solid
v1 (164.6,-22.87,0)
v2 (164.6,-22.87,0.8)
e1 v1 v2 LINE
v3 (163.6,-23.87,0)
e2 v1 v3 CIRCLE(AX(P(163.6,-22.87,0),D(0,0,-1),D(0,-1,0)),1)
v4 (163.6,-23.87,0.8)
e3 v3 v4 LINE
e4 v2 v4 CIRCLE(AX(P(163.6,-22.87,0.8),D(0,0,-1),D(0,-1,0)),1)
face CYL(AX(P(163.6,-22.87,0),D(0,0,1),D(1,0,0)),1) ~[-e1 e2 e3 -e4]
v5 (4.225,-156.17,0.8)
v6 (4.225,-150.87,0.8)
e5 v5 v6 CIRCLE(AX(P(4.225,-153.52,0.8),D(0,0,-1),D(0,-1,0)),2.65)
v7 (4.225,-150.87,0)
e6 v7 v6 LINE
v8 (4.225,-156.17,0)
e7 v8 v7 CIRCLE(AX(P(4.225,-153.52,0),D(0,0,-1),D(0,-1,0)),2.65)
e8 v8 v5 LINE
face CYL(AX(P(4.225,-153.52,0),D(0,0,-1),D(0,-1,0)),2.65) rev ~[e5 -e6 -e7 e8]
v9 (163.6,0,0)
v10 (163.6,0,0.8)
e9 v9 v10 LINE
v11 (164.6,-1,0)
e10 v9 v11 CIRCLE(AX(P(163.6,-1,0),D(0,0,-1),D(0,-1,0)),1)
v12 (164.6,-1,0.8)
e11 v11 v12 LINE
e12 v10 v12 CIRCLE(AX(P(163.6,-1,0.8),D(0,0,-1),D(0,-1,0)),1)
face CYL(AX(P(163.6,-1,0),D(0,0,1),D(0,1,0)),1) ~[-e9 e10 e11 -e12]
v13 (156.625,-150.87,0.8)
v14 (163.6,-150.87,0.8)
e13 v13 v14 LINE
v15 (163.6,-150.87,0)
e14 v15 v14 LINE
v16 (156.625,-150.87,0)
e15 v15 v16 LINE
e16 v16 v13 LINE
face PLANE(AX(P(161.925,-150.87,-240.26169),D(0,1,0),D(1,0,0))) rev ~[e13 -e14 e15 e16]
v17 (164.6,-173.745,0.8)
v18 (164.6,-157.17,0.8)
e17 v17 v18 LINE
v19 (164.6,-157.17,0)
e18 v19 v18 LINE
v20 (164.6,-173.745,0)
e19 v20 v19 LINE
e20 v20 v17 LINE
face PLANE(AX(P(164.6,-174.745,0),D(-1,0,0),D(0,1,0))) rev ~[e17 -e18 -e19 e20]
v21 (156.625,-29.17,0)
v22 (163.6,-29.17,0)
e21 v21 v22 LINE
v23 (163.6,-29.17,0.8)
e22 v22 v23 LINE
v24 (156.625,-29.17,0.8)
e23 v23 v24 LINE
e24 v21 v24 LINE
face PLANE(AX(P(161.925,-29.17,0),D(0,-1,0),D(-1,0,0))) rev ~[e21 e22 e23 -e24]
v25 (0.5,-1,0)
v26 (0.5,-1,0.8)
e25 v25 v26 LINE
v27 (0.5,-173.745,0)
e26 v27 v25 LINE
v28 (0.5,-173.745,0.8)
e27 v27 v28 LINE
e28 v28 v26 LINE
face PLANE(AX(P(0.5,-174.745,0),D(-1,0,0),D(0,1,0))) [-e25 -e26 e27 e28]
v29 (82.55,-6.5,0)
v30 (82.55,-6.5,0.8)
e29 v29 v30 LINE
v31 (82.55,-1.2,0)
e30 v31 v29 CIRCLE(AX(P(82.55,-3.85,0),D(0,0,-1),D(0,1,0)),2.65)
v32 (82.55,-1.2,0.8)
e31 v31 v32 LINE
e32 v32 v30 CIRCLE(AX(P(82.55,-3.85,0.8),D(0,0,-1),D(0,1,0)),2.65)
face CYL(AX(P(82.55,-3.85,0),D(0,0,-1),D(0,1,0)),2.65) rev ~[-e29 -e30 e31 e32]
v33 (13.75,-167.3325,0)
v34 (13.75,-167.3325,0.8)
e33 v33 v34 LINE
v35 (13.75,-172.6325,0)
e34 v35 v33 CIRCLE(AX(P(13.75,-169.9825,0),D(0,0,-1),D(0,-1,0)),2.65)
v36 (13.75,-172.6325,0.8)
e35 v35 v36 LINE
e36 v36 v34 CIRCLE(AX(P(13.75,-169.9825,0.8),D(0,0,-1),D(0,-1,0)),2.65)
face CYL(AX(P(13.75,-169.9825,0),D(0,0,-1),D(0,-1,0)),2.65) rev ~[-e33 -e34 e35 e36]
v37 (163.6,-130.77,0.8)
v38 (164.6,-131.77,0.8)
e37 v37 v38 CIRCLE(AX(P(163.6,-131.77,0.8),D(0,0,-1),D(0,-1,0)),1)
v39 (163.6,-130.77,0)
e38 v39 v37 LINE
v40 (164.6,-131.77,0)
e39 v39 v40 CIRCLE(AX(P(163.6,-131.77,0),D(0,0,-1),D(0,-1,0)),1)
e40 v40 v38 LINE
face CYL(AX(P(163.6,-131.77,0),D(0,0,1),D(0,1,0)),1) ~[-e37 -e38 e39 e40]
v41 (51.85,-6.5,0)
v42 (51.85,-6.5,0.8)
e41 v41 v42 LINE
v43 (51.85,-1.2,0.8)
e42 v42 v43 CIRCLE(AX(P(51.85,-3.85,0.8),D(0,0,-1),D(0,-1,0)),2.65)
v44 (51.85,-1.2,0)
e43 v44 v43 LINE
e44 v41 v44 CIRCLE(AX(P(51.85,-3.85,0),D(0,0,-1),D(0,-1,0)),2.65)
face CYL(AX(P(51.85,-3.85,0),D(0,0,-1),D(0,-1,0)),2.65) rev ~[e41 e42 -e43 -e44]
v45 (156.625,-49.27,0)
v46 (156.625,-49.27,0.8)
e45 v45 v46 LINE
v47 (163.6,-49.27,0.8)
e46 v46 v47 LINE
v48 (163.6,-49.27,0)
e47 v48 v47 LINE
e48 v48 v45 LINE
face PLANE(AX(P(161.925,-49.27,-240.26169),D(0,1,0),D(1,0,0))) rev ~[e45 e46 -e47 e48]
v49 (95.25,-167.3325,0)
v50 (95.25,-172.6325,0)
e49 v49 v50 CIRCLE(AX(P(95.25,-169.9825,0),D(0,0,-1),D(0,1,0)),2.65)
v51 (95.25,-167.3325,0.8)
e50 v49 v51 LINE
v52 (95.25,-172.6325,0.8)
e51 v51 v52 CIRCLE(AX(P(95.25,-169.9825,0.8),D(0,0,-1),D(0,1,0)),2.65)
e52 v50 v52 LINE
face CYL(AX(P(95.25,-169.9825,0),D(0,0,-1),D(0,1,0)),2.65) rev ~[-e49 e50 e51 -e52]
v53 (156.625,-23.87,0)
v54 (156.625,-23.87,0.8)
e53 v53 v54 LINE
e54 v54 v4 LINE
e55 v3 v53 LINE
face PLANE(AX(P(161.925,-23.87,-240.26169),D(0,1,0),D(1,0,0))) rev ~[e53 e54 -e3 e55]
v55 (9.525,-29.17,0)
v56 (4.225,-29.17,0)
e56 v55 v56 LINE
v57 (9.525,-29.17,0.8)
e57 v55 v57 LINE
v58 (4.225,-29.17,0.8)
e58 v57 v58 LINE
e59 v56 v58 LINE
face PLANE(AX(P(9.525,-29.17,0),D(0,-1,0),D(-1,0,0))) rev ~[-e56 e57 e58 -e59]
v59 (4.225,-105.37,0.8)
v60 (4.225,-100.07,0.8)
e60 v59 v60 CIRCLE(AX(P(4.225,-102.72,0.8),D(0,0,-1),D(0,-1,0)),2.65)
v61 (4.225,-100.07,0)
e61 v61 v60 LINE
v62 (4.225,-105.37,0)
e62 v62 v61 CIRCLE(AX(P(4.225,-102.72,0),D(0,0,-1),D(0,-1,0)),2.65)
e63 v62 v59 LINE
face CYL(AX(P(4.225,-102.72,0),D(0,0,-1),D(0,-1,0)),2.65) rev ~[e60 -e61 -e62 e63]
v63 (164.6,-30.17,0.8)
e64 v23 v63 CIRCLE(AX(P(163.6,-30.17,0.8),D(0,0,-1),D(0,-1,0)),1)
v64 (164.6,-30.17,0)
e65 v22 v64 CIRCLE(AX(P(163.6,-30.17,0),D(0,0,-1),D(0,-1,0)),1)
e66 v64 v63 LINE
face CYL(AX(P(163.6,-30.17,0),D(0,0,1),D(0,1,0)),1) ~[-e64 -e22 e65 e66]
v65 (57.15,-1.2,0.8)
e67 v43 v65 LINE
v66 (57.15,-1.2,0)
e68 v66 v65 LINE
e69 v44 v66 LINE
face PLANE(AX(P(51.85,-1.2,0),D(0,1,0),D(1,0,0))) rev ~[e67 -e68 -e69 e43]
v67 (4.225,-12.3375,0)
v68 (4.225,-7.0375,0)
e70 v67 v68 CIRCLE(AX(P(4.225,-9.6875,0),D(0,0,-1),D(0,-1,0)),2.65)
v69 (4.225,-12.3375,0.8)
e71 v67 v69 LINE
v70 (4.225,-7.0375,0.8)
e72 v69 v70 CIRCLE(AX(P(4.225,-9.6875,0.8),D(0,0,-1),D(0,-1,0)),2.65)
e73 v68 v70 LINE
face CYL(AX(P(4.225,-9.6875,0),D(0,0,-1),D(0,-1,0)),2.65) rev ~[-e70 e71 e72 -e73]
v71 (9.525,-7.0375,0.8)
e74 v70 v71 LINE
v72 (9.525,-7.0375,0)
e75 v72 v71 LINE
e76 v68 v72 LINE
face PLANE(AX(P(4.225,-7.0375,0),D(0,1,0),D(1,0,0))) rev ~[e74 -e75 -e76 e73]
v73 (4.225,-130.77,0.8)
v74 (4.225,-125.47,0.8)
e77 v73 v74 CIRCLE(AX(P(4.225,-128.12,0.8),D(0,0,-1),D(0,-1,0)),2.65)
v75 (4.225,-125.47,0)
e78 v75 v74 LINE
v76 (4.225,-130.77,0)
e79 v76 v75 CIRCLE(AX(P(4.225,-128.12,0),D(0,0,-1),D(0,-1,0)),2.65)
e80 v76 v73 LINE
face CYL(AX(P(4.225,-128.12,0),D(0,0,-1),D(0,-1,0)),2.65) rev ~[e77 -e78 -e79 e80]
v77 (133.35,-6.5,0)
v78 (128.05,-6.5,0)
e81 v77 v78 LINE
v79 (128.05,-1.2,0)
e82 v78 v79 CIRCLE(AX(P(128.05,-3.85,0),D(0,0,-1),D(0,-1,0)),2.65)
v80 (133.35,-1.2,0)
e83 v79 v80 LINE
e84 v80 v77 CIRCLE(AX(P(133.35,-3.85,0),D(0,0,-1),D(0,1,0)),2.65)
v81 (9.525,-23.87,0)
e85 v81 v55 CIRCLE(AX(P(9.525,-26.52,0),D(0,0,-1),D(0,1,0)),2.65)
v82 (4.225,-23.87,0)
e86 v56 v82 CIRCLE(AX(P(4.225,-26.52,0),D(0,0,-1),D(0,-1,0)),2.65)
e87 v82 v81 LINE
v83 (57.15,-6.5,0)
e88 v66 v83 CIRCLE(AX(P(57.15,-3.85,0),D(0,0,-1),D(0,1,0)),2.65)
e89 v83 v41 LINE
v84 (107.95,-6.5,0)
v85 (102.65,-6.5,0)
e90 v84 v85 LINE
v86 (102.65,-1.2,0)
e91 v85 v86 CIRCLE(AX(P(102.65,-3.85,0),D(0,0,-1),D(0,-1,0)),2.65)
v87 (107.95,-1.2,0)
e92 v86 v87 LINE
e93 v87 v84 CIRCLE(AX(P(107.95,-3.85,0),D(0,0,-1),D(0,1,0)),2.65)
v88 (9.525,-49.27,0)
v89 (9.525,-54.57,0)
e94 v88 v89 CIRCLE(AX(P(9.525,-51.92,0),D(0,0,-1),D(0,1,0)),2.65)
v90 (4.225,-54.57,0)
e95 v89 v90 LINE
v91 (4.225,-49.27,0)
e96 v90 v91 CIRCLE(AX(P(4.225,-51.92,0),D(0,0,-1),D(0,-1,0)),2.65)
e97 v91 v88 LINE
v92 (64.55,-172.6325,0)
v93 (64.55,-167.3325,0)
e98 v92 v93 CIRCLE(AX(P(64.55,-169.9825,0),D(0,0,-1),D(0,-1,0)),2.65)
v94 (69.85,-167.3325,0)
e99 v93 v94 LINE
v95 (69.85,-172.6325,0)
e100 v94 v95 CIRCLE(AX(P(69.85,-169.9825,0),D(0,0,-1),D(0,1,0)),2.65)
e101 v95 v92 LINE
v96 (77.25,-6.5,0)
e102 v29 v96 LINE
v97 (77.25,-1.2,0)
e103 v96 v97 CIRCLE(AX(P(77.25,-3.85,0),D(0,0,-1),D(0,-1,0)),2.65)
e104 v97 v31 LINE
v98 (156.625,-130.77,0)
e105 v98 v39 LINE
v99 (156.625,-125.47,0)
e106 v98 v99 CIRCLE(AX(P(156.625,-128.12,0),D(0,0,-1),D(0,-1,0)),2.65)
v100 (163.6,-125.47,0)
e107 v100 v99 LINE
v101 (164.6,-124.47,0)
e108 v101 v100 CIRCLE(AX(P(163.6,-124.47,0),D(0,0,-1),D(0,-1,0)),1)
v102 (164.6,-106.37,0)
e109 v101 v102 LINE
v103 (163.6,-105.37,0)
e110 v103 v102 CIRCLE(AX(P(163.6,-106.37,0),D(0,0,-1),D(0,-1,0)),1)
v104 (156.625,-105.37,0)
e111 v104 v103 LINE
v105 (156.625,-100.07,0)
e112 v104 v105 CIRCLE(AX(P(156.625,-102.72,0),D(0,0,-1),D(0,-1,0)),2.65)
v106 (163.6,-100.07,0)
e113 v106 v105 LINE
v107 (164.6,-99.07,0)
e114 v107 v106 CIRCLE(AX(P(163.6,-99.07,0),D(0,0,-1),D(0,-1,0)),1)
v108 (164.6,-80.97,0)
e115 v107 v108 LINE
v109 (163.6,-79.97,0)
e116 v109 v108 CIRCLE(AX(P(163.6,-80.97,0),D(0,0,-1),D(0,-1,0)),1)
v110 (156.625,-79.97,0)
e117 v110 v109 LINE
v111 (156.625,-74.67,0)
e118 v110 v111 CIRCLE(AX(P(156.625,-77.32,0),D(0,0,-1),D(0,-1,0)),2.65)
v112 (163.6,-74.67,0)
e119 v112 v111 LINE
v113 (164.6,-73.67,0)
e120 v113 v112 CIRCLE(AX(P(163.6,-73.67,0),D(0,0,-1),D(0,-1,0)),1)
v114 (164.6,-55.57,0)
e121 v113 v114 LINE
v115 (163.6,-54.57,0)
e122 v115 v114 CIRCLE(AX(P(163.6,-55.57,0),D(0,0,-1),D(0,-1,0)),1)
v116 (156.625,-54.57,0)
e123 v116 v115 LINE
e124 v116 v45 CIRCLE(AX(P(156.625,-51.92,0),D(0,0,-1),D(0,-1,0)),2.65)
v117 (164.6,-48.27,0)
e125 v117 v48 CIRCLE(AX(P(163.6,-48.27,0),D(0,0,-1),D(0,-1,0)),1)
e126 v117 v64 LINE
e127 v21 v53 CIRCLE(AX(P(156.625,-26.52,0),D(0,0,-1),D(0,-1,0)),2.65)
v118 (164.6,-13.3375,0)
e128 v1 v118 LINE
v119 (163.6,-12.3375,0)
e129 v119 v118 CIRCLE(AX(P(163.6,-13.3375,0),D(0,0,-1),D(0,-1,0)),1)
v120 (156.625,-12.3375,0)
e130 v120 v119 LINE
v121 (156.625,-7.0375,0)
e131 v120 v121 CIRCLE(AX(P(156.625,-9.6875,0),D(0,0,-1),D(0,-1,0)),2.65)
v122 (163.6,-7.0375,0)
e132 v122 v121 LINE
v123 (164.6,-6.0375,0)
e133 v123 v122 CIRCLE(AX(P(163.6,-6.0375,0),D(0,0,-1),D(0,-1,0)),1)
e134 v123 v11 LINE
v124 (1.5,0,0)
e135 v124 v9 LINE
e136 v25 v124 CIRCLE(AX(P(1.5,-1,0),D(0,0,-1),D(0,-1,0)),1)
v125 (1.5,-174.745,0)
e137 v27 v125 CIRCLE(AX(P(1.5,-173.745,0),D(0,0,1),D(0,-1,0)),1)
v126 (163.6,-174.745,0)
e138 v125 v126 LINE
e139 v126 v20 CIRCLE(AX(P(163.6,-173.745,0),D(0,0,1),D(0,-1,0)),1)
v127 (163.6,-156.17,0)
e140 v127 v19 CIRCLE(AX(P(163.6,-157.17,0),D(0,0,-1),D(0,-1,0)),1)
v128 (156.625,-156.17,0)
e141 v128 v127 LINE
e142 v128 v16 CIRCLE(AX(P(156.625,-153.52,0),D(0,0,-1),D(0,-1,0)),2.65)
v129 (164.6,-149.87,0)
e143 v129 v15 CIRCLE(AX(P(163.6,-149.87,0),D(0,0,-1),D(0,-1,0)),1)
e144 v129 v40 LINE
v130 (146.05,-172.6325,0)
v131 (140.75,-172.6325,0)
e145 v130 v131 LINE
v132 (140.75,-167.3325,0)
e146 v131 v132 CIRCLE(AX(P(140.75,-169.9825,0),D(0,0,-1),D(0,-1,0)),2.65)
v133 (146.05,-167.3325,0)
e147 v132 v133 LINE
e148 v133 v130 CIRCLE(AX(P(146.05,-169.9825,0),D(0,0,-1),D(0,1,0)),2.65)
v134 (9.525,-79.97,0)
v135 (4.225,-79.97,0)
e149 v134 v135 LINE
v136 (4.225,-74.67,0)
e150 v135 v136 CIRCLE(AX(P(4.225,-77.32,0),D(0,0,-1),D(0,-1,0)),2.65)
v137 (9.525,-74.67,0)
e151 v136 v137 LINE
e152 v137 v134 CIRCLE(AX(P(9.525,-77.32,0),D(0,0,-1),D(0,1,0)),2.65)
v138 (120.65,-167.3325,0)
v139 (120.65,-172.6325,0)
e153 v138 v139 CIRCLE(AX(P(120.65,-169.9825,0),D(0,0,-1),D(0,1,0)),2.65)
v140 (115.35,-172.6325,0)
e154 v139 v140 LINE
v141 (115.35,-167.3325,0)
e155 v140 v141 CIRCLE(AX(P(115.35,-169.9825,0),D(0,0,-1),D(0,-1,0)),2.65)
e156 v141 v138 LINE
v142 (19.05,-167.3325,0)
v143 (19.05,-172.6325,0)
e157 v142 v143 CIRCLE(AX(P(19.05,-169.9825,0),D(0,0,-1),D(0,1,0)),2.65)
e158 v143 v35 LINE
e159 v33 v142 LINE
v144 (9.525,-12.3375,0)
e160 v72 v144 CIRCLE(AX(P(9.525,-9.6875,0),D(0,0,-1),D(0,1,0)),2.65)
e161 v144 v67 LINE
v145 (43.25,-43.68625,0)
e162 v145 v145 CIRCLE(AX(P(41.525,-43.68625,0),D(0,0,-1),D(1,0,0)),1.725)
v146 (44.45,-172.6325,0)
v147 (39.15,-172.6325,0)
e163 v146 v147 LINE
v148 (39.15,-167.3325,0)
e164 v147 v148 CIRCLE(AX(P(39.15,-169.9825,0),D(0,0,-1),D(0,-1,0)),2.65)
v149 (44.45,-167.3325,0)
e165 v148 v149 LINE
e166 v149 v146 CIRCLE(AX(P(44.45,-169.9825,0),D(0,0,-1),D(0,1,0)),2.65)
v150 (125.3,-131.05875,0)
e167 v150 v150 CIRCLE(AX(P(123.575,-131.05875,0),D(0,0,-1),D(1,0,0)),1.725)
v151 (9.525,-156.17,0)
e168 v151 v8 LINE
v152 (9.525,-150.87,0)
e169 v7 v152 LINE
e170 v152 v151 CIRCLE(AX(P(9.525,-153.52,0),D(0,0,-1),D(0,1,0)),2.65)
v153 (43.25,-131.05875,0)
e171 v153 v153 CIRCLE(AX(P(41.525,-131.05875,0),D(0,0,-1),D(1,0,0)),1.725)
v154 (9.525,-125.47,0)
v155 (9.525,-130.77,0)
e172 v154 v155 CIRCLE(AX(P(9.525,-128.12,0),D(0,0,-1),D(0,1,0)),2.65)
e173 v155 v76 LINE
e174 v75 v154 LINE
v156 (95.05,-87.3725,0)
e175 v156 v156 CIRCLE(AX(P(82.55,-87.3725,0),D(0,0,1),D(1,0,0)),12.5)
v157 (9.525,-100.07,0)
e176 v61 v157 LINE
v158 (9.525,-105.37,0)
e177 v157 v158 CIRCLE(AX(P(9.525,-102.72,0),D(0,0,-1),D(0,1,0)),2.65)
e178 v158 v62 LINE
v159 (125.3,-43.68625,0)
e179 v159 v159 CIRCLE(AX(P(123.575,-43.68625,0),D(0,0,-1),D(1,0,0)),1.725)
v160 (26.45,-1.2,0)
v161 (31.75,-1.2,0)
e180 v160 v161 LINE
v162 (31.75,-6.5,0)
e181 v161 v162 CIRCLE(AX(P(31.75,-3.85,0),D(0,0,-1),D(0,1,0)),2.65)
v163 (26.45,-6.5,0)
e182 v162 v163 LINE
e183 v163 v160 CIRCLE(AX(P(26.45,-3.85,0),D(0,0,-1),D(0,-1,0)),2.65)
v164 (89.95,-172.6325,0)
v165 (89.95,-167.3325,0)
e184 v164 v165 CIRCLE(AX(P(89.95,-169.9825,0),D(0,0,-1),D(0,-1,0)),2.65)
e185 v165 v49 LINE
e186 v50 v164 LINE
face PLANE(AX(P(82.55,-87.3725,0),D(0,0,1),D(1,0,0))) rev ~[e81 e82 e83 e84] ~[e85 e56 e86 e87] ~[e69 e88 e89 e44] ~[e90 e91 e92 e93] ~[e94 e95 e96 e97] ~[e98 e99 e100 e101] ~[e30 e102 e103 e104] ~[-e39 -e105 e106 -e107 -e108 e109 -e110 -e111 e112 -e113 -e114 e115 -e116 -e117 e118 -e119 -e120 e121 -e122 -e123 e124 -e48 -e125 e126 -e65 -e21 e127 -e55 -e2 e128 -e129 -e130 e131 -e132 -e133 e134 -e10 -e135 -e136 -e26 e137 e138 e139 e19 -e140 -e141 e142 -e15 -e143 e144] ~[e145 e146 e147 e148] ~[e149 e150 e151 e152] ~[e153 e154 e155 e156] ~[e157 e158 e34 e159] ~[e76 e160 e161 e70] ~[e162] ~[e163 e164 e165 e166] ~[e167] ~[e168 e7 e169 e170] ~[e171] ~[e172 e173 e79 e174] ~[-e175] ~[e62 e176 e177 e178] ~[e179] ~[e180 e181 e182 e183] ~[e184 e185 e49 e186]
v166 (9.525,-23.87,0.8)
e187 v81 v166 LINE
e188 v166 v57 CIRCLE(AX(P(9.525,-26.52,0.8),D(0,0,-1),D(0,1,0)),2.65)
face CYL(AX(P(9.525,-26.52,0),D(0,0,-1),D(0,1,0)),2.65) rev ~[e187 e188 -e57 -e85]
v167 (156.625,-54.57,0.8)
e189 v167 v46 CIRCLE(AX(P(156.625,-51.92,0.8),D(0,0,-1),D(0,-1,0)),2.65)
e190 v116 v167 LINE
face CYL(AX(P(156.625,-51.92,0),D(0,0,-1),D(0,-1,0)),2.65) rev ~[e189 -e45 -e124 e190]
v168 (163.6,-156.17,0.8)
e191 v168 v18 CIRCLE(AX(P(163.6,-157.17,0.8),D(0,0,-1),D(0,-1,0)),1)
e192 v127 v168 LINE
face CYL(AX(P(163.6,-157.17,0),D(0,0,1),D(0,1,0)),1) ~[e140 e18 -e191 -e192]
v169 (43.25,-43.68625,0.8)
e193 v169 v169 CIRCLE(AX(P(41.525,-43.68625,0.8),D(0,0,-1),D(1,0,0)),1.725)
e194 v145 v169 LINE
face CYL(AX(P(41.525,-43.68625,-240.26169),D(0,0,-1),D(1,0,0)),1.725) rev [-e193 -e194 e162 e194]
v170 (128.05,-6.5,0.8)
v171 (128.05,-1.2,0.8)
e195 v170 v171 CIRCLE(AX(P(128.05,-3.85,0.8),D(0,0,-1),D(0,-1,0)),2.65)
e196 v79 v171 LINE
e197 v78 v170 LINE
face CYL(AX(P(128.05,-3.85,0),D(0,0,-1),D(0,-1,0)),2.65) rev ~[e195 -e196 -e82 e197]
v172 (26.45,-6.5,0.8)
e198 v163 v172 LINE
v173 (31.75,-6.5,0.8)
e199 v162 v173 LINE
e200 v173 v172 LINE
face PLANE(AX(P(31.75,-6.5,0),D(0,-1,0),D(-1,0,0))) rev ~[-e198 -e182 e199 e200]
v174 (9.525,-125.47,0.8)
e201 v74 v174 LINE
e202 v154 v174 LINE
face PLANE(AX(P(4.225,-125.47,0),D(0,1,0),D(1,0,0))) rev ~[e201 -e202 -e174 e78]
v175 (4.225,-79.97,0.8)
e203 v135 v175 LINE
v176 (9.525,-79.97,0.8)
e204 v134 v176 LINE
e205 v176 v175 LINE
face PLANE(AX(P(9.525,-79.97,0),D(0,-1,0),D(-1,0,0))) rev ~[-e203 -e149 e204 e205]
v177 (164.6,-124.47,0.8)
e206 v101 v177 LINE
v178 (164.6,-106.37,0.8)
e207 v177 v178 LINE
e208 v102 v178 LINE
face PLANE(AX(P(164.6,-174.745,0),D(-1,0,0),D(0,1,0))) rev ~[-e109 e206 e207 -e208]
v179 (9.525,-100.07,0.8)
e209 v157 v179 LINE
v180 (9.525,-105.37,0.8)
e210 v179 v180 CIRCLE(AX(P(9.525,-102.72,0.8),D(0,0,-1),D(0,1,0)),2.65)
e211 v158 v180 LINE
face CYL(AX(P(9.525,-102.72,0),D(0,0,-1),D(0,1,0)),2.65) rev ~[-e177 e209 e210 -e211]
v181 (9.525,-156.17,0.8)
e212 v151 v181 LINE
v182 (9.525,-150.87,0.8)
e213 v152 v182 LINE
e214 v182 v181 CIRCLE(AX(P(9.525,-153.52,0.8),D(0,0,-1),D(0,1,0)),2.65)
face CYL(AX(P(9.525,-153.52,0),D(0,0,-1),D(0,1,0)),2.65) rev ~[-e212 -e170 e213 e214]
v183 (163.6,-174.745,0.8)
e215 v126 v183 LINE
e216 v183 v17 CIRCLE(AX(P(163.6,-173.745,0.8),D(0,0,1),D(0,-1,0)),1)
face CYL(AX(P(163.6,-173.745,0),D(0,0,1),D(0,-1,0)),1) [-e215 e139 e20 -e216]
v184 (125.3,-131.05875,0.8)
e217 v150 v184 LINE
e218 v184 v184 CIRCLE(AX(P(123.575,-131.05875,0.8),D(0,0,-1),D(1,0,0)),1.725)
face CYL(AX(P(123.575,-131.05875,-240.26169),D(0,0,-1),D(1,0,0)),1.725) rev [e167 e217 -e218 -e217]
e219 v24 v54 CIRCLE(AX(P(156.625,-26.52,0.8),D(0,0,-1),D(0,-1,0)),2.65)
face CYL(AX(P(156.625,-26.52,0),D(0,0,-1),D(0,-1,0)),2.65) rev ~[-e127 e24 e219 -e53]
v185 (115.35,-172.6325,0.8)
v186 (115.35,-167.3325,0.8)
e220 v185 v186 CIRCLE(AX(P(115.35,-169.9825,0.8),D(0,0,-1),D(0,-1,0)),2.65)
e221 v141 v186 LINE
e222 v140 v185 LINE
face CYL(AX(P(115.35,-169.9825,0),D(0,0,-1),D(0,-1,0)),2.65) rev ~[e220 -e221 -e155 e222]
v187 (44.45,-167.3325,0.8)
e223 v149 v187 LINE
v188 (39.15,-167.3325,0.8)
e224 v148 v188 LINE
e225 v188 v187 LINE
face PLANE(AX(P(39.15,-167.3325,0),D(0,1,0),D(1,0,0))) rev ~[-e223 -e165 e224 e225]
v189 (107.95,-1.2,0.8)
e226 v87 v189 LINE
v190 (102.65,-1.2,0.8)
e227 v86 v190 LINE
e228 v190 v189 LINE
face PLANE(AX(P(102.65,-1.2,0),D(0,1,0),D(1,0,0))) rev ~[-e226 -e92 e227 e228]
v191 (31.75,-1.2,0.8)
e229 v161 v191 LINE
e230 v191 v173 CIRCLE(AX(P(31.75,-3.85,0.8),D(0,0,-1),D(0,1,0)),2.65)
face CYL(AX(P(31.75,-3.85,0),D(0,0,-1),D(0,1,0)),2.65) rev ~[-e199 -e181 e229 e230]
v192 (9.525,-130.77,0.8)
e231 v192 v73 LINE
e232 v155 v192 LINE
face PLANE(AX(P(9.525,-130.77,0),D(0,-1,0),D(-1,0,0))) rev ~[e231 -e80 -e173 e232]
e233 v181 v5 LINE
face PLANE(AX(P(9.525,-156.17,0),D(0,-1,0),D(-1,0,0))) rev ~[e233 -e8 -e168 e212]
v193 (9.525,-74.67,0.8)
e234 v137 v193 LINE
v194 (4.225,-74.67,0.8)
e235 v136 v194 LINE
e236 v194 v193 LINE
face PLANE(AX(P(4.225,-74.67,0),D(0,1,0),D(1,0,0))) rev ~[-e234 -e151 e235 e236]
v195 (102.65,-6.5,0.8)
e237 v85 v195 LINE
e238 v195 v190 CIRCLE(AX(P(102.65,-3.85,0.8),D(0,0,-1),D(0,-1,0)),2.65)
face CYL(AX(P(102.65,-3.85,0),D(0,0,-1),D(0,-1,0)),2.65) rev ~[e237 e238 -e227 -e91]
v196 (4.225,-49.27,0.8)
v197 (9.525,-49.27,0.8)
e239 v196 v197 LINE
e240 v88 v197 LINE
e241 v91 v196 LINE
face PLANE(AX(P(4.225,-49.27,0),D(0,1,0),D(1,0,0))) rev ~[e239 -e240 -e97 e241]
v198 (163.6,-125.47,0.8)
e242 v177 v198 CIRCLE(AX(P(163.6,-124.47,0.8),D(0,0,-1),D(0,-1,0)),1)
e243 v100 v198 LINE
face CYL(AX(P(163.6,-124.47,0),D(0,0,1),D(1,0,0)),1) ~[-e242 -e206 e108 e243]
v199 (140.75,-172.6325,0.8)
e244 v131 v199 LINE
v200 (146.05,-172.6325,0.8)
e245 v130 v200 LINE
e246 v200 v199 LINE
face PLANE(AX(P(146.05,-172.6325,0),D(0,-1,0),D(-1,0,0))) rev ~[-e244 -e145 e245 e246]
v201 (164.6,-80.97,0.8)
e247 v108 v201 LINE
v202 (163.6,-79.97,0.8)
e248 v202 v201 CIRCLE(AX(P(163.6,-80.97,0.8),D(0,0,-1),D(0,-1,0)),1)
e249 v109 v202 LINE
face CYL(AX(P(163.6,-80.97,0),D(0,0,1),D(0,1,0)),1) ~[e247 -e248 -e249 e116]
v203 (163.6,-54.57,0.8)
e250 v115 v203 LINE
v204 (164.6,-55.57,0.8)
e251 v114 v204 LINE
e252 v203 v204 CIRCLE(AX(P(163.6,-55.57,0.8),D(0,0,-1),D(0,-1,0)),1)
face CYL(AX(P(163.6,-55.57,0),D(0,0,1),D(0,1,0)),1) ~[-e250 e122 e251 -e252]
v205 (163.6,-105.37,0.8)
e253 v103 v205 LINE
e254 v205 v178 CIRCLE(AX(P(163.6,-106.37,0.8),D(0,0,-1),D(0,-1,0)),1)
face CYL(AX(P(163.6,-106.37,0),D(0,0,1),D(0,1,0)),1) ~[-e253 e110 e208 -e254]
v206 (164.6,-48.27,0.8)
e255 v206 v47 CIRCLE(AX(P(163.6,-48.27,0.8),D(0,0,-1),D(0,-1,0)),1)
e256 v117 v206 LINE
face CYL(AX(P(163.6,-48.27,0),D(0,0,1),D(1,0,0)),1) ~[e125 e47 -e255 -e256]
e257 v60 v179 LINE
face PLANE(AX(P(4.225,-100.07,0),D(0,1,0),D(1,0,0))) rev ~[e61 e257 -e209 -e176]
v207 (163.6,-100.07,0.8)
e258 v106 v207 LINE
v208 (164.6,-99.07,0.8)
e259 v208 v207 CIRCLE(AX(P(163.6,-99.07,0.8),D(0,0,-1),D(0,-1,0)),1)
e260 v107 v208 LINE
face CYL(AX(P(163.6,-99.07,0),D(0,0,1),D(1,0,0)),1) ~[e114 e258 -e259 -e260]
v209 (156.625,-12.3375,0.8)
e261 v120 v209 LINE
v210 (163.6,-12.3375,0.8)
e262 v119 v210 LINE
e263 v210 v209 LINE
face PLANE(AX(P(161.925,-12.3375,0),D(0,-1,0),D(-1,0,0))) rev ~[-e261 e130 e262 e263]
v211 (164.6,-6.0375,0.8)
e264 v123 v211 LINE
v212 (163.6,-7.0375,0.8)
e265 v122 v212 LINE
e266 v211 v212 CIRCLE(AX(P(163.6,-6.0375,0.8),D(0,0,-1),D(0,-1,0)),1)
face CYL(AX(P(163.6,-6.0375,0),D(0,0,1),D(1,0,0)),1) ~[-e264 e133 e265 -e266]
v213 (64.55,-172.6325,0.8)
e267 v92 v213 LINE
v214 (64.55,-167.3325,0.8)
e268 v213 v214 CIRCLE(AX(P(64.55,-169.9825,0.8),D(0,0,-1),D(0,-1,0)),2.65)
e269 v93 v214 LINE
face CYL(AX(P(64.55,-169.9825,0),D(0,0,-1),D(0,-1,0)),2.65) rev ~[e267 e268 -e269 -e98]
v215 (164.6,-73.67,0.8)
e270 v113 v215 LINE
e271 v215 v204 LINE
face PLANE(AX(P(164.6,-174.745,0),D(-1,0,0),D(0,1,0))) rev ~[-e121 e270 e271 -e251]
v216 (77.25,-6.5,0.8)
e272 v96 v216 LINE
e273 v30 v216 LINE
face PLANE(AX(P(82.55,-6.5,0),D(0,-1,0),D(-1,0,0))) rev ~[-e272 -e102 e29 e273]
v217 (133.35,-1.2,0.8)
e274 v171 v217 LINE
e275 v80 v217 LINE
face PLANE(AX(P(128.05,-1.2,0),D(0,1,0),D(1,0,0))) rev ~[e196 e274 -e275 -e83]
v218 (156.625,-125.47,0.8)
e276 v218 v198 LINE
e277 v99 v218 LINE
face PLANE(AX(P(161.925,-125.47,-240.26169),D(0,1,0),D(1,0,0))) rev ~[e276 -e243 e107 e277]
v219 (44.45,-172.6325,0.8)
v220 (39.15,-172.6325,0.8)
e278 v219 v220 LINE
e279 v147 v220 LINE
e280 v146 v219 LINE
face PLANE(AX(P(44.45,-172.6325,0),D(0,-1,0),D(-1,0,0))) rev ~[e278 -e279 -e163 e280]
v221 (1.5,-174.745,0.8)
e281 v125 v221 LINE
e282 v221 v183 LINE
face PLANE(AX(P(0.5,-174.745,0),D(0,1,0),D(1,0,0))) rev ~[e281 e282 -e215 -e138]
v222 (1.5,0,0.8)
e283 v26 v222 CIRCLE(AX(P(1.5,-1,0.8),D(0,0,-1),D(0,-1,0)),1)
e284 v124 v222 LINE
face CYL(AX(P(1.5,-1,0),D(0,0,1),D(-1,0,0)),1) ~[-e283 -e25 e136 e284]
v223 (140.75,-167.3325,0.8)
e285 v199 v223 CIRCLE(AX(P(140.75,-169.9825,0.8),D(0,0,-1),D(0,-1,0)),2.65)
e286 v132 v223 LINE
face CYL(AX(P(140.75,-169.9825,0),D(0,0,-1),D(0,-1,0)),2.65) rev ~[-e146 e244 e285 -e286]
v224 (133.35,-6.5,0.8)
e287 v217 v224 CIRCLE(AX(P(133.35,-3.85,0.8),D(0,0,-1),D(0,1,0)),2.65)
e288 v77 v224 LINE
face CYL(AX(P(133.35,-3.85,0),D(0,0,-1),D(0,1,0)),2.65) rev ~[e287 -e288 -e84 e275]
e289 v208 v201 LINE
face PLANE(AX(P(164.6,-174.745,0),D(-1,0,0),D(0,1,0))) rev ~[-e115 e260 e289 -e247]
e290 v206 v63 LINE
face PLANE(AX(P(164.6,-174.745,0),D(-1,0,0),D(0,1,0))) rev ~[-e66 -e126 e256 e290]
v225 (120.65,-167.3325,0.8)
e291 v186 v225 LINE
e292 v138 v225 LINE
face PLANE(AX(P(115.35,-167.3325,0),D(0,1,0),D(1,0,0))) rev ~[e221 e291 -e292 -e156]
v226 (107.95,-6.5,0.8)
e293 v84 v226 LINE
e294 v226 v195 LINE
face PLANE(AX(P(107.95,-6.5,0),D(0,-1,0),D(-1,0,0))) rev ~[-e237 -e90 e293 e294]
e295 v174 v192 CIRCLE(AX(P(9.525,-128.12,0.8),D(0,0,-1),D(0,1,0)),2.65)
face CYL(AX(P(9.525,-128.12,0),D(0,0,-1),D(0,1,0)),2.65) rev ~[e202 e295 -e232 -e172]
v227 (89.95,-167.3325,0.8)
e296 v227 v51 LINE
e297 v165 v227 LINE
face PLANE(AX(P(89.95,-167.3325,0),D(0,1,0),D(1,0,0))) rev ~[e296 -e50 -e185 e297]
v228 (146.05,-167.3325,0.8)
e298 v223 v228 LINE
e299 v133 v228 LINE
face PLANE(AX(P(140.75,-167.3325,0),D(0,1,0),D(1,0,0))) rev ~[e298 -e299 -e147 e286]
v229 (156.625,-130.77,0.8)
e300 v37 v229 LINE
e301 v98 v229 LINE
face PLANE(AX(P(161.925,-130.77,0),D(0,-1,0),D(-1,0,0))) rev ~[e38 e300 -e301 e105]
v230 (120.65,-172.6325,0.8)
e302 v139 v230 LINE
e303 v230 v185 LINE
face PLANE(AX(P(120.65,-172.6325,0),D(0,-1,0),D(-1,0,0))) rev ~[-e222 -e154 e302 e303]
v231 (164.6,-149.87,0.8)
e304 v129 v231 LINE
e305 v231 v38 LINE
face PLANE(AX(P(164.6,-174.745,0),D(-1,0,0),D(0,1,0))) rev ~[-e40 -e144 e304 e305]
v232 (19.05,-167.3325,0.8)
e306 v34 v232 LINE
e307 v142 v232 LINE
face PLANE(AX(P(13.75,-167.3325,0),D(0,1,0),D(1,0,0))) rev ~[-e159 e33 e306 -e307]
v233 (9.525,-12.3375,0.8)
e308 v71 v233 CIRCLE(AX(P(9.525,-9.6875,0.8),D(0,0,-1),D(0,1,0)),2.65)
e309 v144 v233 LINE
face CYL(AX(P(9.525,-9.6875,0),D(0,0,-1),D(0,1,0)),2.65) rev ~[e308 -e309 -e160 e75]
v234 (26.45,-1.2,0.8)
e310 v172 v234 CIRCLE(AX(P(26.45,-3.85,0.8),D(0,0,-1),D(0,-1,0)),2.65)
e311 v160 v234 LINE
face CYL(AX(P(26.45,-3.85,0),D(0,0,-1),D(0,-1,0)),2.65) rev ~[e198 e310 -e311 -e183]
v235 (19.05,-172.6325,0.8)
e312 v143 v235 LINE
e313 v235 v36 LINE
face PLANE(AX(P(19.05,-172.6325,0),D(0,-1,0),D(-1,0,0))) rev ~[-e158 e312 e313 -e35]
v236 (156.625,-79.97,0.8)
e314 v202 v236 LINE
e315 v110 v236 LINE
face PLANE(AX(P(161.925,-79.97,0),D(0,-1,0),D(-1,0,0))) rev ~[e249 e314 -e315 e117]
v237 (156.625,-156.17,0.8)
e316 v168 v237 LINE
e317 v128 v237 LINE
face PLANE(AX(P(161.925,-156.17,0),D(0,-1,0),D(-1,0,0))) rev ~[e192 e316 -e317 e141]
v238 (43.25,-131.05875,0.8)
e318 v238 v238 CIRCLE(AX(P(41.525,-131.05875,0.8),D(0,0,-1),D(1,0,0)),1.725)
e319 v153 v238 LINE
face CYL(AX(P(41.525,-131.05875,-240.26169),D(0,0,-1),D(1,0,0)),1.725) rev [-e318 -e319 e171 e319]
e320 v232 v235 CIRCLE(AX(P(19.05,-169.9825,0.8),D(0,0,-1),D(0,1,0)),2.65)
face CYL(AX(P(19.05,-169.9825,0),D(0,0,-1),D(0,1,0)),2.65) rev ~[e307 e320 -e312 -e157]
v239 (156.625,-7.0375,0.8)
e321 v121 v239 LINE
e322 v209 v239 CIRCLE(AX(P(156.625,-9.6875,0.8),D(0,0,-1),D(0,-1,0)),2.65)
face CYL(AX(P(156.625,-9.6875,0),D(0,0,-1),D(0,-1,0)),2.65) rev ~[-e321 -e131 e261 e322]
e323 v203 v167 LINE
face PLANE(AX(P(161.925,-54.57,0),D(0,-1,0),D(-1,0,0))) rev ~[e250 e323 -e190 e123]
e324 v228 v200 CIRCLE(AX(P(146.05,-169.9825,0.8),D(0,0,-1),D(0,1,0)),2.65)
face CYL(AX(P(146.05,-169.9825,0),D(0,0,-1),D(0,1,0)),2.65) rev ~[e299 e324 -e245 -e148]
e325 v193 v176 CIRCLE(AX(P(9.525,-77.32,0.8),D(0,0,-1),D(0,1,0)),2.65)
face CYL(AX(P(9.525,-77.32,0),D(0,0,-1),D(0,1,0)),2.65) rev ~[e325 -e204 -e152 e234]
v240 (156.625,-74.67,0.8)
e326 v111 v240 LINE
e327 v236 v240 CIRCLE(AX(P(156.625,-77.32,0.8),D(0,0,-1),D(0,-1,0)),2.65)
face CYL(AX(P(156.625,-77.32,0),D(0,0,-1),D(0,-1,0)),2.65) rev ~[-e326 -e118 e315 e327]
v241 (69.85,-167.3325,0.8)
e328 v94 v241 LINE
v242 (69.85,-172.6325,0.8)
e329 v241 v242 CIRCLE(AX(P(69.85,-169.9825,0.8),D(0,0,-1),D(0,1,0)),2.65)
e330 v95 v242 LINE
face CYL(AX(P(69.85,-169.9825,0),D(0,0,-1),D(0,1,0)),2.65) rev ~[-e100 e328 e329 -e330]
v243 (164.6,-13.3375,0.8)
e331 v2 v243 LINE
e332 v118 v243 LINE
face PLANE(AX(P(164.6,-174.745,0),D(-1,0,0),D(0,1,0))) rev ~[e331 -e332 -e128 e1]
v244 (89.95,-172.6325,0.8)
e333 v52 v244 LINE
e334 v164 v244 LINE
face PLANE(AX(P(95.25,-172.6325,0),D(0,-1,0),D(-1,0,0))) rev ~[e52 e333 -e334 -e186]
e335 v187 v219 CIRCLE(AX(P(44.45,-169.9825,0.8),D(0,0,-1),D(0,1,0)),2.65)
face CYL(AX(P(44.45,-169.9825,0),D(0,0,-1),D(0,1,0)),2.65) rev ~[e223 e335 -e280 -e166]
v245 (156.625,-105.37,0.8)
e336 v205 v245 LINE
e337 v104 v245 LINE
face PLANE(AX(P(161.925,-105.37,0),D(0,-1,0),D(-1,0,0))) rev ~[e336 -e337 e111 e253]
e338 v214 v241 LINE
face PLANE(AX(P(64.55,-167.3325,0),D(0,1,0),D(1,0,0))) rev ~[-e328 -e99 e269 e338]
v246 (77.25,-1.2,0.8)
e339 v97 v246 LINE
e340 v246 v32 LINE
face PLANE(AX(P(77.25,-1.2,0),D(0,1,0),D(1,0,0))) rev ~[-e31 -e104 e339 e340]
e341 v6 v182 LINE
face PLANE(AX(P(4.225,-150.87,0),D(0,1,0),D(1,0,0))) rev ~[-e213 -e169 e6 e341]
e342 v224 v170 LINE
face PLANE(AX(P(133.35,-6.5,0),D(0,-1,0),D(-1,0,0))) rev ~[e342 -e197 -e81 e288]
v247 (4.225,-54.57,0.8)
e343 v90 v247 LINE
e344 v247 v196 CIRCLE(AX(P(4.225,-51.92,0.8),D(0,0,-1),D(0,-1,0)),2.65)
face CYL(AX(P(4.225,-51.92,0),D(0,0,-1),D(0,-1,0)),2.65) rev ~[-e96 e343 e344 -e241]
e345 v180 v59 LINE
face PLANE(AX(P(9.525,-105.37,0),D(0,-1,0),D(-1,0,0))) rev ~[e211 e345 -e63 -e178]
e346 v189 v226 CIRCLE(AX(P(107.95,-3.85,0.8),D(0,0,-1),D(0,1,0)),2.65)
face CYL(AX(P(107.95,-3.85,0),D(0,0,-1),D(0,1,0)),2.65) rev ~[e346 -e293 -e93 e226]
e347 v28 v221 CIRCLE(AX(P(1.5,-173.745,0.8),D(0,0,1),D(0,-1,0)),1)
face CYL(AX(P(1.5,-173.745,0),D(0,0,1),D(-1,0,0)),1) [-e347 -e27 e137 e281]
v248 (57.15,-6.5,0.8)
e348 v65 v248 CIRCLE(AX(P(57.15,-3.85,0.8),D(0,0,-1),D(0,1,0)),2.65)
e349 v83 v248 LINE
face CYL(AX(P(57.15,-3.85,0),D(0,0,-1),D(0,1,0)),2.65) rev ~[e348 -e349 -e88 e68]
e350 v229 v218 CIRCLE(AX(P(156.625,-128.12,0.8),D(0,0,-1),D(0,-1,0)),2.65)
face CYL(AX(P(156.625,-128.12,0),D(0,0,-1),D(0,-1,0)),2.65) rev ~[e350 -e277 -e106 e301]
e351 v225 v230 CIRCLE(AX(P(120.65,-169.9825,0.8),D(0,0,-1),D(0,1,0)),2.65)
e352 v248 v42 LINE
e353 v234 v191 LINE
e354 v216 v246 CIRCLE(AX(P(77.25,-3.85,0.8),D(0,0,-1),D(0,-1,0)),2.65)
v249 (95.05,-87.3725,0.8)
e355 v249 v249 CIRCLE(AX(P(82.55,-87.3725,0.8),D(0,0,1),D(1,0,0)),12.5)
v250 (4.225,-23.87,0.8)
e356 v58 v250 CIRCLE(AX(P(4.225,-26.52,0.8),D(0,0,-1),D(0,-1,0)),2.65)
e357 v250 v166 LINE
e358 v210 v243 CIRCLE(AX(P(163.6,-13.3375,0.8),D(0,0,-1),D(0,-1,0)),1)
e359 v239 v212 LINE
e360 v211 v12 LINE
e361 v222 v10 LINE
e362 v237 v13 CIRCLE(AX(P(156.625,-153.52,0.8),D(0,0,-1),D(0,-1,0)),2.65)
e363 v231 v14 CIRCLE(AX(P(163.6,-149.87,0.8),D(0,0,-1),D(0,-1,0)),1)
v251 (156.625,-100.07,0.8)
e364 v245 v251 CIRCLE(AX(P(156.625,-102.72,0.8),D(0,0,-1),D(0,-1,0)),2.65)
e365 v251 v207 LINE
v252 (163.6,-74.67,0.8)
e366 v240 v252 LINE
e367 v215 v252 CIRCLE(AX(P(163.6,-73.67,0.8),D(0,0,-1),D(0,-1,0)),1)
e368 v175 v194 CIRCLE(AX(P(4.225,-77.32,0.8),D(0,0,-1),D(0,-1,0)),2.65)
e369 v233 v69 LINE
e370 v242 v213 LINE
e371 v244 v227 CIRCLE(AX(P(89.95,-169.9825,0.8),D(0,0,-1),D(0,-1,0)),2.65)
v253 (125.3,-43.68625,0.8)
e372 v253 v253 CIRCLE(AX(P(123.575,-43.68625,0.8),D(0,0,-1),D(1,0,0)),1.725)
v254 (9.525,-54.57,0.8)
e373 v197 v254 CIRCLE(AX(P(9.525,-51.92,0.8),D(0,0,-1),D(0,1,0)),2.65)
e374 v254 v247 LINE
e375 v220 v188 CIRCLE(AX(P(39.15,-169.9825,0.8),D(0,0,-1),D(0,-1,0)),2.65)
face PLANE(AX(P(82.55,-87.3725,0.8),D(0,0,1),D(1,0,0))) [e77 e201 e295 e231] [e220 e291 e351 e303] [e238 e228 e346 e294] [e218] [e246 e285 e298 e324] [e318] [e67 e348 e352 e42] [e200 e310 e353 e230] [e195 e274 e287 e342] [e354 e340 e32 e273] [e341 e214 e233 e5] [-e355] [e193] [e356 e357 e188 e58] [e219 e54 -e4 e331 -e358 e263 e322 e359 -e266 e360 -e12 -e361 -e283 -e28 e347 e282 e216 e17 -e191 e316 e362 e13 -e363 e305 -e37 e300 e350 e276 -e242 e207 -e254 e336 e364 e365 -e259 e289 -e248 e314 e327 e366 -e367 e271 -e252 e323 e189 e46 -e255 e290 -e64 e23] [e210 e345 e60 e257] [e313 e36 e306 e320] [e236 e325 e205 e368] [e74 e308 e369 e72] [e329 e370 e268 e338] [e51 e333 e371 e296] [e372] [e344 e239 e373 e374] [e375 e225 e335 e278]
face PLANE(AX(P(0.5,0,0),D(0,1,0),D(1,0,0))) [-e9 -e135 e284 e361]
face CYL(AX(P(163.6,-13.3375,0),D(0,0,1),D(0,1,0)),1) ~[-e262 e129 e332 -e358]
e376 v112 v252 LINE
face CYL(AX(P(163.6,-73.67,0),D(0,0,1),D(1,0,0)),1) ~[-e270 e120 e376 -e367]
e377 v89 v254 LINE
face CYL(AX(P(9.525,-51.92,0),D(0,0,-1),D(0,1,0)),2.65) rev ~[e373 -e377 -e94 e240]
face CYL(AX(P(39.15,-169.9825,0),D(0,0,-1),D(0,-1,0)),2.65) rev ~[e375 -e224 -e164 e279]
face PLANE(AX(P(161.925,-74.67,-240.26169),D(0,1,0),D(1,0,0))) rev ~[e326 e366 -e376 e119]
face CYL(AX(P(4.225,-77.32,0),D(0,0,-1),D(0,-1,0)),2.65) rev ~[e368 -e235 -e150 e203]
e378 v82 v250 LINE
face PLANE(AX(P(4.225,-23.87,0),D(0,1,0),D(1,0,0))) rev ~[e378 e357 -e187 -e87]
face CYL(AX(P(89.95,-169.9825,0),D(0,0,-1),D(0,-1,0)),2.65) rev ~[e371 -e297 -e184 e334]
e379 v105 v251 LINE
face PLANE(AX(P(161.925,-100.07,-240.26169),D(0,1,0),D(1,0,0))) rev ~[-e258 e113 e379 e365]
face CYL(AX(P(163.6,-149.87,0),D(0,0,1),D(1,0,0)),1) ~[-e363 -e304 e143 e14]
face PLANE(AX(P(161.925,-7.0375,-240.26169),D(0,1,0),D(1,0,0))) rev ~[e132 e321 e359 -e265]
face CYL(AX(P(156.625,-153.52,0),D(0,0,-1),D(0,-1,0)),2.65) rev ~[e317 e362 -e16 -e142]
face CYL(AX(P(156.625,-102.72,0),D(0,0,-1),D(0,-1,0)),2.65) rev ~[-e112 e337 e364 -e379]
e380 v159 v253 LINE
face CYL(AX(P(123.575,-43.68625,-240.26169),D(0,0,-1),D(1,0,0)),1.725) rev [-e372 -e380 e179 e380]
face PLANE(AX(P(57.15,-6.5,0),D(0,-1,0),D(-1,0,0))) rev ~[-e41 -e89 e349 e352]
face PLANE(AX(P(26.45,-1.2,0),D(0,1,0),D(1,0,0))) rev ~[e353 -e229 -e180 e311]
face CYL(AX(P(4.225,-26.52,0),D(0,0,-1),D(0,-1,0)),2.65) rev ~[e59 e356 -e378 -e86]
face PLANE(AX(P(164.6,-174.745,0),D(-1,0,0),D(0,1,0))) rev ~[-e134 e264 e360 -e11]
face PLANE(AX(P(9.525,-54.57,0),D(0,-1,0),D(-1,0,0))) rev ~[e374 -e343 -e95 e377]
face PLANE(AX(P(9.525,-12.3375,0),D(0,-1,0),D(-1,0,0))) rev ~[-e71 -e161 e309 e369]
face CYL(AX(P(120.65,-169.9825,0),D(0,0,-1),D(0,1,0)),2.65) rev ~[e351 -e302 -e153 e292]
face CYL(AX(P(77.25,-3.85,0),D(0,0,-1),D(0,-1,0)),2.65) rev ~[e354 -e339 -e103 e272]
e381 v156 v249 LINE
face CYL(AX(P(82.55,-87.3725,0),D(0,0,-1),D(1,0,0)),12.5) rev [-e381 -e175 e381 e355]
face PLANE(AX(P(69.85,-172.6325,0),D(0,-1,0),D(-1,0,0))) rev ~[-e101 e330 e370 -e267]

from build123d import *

# Parameters (mm, degrees)
SKETCH1_W               = 164.1
SKETCH1_H               = 174.745
SKETCH1_R               = 12.5
BOSS_EXTRUDE1_DEPTH     = 0.8
FILLET1_R               = 1
CUT_EXTRUDE1_DEPTH      = 241.06169004
CUT_EXTRUDE1_DEPTH_BACK = 241.06169004
SKETCH2_R               = 1.725
SKETCH2_W               = 2.675
SKETCH2_H               = 5.3
FILLET2_R               = 1


with BuildPart() as part:
    # Sketch1 → Boss-Extrude1 (new body)
    with BuildSketch(Plane.XY):
        with Locations((82.55, -87.3725)):
            Rectangle(SKETCH1_W, SKETCH1_H)
        with Locations((82.55, -87.3725)):
            Circle(SKETCH1_R, mode=Mode.SUBTRACT)
        with BuildLine():
            Line((82.55, -6.5), (77.25, -6.5))
            ThreePointArc((77.25, -6.5), (74.6, -3.85), (77.25, -1.2))
            Line((77.25, -1.2), (82.55, -1.2))
            ThreePointArc((82.55, -1.2), (85.2, -3.85), (82.55, -6.5))
        make_face(mode=Mode.SUBTRACT)
        with BuildLine():
            Line((13.75, -167.3325), (19.05, -167.3325))
            ThreePointArc((19.05, -167.3325), (21.7, -169.9825), (19.05, -172.6325))
            Line((19.05, -172.6325), (13.75, -172.6325))
            ThreePointArc((13.75, -172.6325), (11.1, -169.9825), (13.75, -167.3325))
        make_face(mode=Mode.SUBTRACT)
        with BuildLine():
            Line((4.225, -150.87), (9.525, -150.87))
            ThreePointArc((9.525, -150.87), (12.175, -153.52), (9.525, -156.17))
            Line((9.525, -156.17), (4.225, -156.17))
            ThreePointArc((4.225, -156.17), (1.575, -153.52), (4.225, -150.87))
        make_face(mode=Mode.SUBTRACT)
        with BuildLine():
            Line((39.15, -167.3325), (44.45, -167.3325))
            ThreePointArc((44.45, -167.3325), (47.1, -169.9825), (44.45, -172.6325))
            Line((44.45, -172.6325), (39.15, -172.6325))
            ThreePointArc((39.15, -172.6325), (36.5, -169.9825), (39.15, -167.3325))
        make_face(mode=Mode.SUBTRACT)
        with BuildLine():
            Line((64.55, -167.3325), (69.85, -167.3325))
            ThreePointArc((69.85, -167.3325), (72.5, -169.9825), (69.85, -172.6325))
            Line((69.85, -172.6325), (64.55, -172.6325))
            ThreePointArc((64.55, -172.6325), (61.9, -169.9825), (64.55, -167.3325))
        make_face(mode=Mode.SUBTRACT)
        with BuildLine():
            Line((4.225, -125.47), (9.525, -125.47))
            ThreePointArc((9.525, -125.47), (12.175, -128.12), (9.525, -130.77))
            Line((9.525, -130.77), (4.225, -130.77))
            ThreePointArc((4.225, -130.77), (1.575, -128.12), (4.225, -125.47))
        make_face(mode=Mode.SUBTRACT)
        with BuildLine():
            Line((4.225, -100.07), (9.525, -100.07))
            ThreePointArc((9.525, -100.07), (12.175, -102.72), (9.525, -105.37))
            Line((9.525, -105.37), (4.225, -105.37))
            ThreePointArc((4.225, -105.37), (1.575, -102.72), (4.225, -100.07))
        make_face(mode=Mode.SUBTRACT)
        with BuildLine():
            Line((4.225, -74.67), (9.525, -74.67))
            ThreePointArc((9.525, -74.67), (12.175, -77.32), (9.525, -79.97))
            Line((9.525, -79.97), (4.225, -79.97))
            ThreePointArc((4.225, -79.97), (1.575, -77.32), (4.225, -74.67))
        make_face(mode=Mode.SUBTRACT)
        with BuildLine():
            Line((4.225, -49.27), (9.525, -49.27))
            ThreePointArc((9.525, -49.27), (12.175, -51.92), (9.525, -54.57))
            Line((9.525, -54.57), (4.225, -54.57))
            ThreePointArc((4.225, -54.57), (1.575, -51.92), (4.225, -49.27))
        make_face(mode=Mode.SUBTRACT)
        with BuildLine():
            Line((4.225, -23.87), (9.525, -23.87))
            ThreePointArc((9.525, -23.87), (12.175, -26.52), (9.525, -29.17))
            Line((9.525, -29.17), (4.225, -29.17))
            ThreePointArc((4.225, -29.17), (1.575, -26.52), (4.225, -23.87))
        make_face(mode=Mode.SUBTRACT)
        with BuildLine():
            Line((4.225, -7.0375), (9.525, -7.0375))
            ThreePointArc((9.525, -7.0375), (12.175, -9.6875), (9.525, -12.3375))
            Line((9.525, -12.3375), (4.225, -12.3375))
            ThreePointArc((4.225, -12.3375), (1.575, -9.6875), (4.225, -7.0375))
        make_face(mode=Mode.SUBTRACT)
        with BuildLine():
            Line((26.45, -1.2), (31.75, -1.2))
            ThreePointArc((31.75, -1.2), (34.4, -3.85), (31.75, -6.5))
            Line((31.75, -6.5), (26.45, -6.5))
            ThreePointArc((26.45, -6.5), (23.8, -3.85), (26.45, -1.2))
        make_face(mode=Mode.SUBTRACT)
        with BuildLine():
            Line((51.85, -1.2), (57.15, -1.2))
            ThreePointArc((57.15, -1.2), (59.8, -3.85), (57.15, -6.5))
            Line((57.15, -6.5), (51.85, -6.5))
            ThreePointArc((51.85, -6.5), (49.2, -3.85), (51.85, -1.2))
        make_face(mode=Mode.SUBTRACT)
        with BuildLine():
            ThreePointArc((161.925, -7.0375), (164.575, -9.6875), (161.925, -12.3375))
            Line((161.925, -12.3375), (156.625, -12.3375))
            ThreePointArc((156.625, -12.3375), (153.975, -9.6875), (156.625, -7.0375))
            Line((156.625, -7.0375), (161.925, -7.0375))
        make_face(mode=Mode.SUBTRACT)
        with BuildLine():
            Line((89.95, -167.3325), (95.25, -167.3325))
            ThreePointArc((95.25, -167.3325), (97.9, -169.9825), (95.25, -172.6325))
            Line((95.25, -172.6325), (89.95, -172.6325))
            ThreePointArc((89.95, -172.6325), (87.3, -169.9825), (89.95, -167.3325))
        make_face(mode=Mode.SUBTRACT)
        with BuildLine():
            Line((115.35, -167.3325), (120.65, -167.3325))
            ThreePointArc((120.65, -167.3325), (123.3, -169.9825), (120.65, -172.6325))
            Line((120.65, -172.6325), (115.35, -172.6325))
            ThreePointArc((115.35, -172.6325), (112.7, -169.9825), (115.35, -167.3325))
        make_face(mode=Mode.SUBTRACT)
        with BuildLine():
            Line((140.75, -167.3325), (146.05, -167.3325))
            ThreePointArc((146.05, -167.3325), (148.7, -169.9825), (146.05, -172.6325))
            Line((146.05, -172.6325), (140.75, -172.6325))
            ThreePointArc((140.75, -172.6325), (138.1, -169.9825), (140.75, -167.3325))
        make_face(mode=Mode.SUBTRACT)
        with BuildLine():
            Line((156.625, -150.87), (161.925, -150.87))
            ThreePointArc((161.925, -150.87), (164.575, -153.52), (161.925, -156.17))
            Line((161.925, -156.17), (156.625, -156.17))
            ThreePointArc((156.625, -156.17), (153.975, -153.52), (156.625, -150.87))
        make_face(mode=Mode.SUBTRACT)
        with BuildLine():
            Line((156.625, -125.47), (161.925, -125.47))
            ThreePointArc((161.925, -125.47), (164.575, -128.12), (161.925, -130.77))
            Line((161.925, -130.77), (156.625, -130.77))
            ThreePointArc((156.625, -130.77), (153.975, -128.12), (156.625, -125.47))
        make_face(mode=Mode.SUBTRACT)
        with BuildLine():
            Line((156.625, -100.07), (161.925, -100.07))
            ThreePointArc((161.925, -100.07), (164.575, -102.72), (161.925, -105.37))
            Line((161.925, -105.37), (156.625, -105.37))
            ThreePointArc((156.625, -105.37), (153.975, -102.72), (156.625, -100.07))
        make_face(mode=Mode.SUBTRACT)
        with BuildLine():
            Line((156.625, -74.67), (161.925, -74.67))
            ThreePointArc((161.925, -74.67), (164.575, -77.32), (161.925, -79.97))
            Line((161.925, -79.97), (156.625, -79.97))
            ThreePointArc((156.625, -79.97), (153.975, -77.32), (156.625, -74.67))
        make_face(mode=Mode.SUBTRACT)
        with BuildLine():
            Line((156.625, -49.27), (161.925, -49.27))
            ThreePointArc((161.925, -49.27), (164.575, -51.92), (161.925, -54.57))
            Line((161.925, -54.57), (156.625, -54.57))
            ThreePointArc((156.625, -54.57), (153.975, -51.92), (156.625, -49.27))
        make_face(mode=Mode.SUBTRACT)
        with BuildLine():
            Line((102.65, -1.2), (107.95, -1.2))
            ThreePointArc((107.95, -1.2), (110.6, -3.85), (107.95, -6.5))
            Line((107.95, -6.5), (102.65, -6.5))
            ThreePointArc((102.65, -6.5), (100, -3.85), (102.65, -1.2))
        make_face(mode=Mode.SUBTRACT)
        with BuildLine():
            Line((156.625, -23.87), (161.925, -23.87))
            ThreePointArc((161.925, -23.87), (164.575, -26.52), (161.925, -29.17))
            Line((161.925, -29.17), (156.625, -29.17))
            ThreePointArc((156.625, -29.17), (153.975, -26.52), (156.625, -23.87))
        make_face(mode=Mode.SUBTRACT)
        with BuildLine():
            Line((128.05, -1.2), (133.35, -1.2))
            ThreePointArc((133.35, -1.2), (136, -3.85), (133.35, -6.5))
            Line((133.35, -6.5), (128.05, -6.5))
            ThreePointArc((128.05, -6.5), (125.4, -3.85), (128.05, -1.2))
        make_face(mode=Mode.SUBTRACT)
    extrude(amount=BOSS_EXTRUDE1_DEPTH)

    # Fillet1
    fillet1_edges = [part.edges().sort_by_distance(p)[0] for p in [
        (0.5, -174.745, 0.4),
        (0.5, 0, 0.4),
        (164.6, 0, 0.4),
        (164.6, -174.745, 0.4),
    ]]
    fillet(fillet1_edges, radius=FILLET1_R)

    # Sketch2 → Cut-Extrude1 (cut, two sides: drawn at the far end of the back side and taken through both)
    with BuildSketch(Plane.XY.offset(0.8).offset(-CUT_EXTRUDE1_DEPTH_BACK)):
        with Locations((41.525, -43.68625)):
            Circle(SKETCH2_R)
        with Locations((123.575, -43.68625)):
            Circle(SKETCH2_R)
        with Locations((123.575, -131.05875)):
            Circle(SKETCH2_R)
        with Locations((41.525, -131.05875)):
            Circle(SKETCH2_R)
        with Locations((163.2625, -9.6875)):
            Rectangle(SKETCH2_W, SKETCH2_H)
        with Locations((163.2625, -51.92)):
            Rectangle(SKETCH2_W, SKETCH2_H)
        with Locations((163.2625, -26.52)):
            Rectangle(SKETCH2_W, SKETCH2_H)
        with Locations((163.2625, -77.32)):
            Rectangle(SKETCH2_W, SKETCH2_H)
        with Locations((163.2625, -102.72)):
            Rectangle(SKETCH2_W, SKETCH2_H)
        with Locations((163.2625, -128.12)):
            Rectangle(SKETCH2_W, SKETCH2_H)
        with Locations((163.2625, -153.52)):
            Rectangle(SKETCH2_W, SKETCH2_H)
    extrude(amount=CUT_EXTRUDE1_DEPTH + CUT_EXTRUDE1_DEPTH_BACK, mode=Mode.SUBTRACT)

    # Fillet2
    fillet2_edges = [part.edges().sort_by_distance(p)[0] for p in [
        (164.6, -100.07, 0.4),
        (164.6, -105.37, 0.4),
        (164.6, -74.67, 0.4),
        (164.6, -79.97, 0.4),
        (164.6, -49.27, 0.4),
        (164.6, -54.57, 0.4),
        (164.6, -23.87, 0.4),
        (164.6, -29.17, 0.4),
        (164.6, -7.0375, 0.4),
        (164.6, -12.3375, 0.4),
        (164.6, -125.47, 0.4),
        (164.6, -130.77, 0.4),
        (164.6, -150.87, 0.4),
        (164.6, -156.17, 0.4),
    ]]
    fillet(fillet2_edges, radius=FILLET2_R)


solid = part.part
